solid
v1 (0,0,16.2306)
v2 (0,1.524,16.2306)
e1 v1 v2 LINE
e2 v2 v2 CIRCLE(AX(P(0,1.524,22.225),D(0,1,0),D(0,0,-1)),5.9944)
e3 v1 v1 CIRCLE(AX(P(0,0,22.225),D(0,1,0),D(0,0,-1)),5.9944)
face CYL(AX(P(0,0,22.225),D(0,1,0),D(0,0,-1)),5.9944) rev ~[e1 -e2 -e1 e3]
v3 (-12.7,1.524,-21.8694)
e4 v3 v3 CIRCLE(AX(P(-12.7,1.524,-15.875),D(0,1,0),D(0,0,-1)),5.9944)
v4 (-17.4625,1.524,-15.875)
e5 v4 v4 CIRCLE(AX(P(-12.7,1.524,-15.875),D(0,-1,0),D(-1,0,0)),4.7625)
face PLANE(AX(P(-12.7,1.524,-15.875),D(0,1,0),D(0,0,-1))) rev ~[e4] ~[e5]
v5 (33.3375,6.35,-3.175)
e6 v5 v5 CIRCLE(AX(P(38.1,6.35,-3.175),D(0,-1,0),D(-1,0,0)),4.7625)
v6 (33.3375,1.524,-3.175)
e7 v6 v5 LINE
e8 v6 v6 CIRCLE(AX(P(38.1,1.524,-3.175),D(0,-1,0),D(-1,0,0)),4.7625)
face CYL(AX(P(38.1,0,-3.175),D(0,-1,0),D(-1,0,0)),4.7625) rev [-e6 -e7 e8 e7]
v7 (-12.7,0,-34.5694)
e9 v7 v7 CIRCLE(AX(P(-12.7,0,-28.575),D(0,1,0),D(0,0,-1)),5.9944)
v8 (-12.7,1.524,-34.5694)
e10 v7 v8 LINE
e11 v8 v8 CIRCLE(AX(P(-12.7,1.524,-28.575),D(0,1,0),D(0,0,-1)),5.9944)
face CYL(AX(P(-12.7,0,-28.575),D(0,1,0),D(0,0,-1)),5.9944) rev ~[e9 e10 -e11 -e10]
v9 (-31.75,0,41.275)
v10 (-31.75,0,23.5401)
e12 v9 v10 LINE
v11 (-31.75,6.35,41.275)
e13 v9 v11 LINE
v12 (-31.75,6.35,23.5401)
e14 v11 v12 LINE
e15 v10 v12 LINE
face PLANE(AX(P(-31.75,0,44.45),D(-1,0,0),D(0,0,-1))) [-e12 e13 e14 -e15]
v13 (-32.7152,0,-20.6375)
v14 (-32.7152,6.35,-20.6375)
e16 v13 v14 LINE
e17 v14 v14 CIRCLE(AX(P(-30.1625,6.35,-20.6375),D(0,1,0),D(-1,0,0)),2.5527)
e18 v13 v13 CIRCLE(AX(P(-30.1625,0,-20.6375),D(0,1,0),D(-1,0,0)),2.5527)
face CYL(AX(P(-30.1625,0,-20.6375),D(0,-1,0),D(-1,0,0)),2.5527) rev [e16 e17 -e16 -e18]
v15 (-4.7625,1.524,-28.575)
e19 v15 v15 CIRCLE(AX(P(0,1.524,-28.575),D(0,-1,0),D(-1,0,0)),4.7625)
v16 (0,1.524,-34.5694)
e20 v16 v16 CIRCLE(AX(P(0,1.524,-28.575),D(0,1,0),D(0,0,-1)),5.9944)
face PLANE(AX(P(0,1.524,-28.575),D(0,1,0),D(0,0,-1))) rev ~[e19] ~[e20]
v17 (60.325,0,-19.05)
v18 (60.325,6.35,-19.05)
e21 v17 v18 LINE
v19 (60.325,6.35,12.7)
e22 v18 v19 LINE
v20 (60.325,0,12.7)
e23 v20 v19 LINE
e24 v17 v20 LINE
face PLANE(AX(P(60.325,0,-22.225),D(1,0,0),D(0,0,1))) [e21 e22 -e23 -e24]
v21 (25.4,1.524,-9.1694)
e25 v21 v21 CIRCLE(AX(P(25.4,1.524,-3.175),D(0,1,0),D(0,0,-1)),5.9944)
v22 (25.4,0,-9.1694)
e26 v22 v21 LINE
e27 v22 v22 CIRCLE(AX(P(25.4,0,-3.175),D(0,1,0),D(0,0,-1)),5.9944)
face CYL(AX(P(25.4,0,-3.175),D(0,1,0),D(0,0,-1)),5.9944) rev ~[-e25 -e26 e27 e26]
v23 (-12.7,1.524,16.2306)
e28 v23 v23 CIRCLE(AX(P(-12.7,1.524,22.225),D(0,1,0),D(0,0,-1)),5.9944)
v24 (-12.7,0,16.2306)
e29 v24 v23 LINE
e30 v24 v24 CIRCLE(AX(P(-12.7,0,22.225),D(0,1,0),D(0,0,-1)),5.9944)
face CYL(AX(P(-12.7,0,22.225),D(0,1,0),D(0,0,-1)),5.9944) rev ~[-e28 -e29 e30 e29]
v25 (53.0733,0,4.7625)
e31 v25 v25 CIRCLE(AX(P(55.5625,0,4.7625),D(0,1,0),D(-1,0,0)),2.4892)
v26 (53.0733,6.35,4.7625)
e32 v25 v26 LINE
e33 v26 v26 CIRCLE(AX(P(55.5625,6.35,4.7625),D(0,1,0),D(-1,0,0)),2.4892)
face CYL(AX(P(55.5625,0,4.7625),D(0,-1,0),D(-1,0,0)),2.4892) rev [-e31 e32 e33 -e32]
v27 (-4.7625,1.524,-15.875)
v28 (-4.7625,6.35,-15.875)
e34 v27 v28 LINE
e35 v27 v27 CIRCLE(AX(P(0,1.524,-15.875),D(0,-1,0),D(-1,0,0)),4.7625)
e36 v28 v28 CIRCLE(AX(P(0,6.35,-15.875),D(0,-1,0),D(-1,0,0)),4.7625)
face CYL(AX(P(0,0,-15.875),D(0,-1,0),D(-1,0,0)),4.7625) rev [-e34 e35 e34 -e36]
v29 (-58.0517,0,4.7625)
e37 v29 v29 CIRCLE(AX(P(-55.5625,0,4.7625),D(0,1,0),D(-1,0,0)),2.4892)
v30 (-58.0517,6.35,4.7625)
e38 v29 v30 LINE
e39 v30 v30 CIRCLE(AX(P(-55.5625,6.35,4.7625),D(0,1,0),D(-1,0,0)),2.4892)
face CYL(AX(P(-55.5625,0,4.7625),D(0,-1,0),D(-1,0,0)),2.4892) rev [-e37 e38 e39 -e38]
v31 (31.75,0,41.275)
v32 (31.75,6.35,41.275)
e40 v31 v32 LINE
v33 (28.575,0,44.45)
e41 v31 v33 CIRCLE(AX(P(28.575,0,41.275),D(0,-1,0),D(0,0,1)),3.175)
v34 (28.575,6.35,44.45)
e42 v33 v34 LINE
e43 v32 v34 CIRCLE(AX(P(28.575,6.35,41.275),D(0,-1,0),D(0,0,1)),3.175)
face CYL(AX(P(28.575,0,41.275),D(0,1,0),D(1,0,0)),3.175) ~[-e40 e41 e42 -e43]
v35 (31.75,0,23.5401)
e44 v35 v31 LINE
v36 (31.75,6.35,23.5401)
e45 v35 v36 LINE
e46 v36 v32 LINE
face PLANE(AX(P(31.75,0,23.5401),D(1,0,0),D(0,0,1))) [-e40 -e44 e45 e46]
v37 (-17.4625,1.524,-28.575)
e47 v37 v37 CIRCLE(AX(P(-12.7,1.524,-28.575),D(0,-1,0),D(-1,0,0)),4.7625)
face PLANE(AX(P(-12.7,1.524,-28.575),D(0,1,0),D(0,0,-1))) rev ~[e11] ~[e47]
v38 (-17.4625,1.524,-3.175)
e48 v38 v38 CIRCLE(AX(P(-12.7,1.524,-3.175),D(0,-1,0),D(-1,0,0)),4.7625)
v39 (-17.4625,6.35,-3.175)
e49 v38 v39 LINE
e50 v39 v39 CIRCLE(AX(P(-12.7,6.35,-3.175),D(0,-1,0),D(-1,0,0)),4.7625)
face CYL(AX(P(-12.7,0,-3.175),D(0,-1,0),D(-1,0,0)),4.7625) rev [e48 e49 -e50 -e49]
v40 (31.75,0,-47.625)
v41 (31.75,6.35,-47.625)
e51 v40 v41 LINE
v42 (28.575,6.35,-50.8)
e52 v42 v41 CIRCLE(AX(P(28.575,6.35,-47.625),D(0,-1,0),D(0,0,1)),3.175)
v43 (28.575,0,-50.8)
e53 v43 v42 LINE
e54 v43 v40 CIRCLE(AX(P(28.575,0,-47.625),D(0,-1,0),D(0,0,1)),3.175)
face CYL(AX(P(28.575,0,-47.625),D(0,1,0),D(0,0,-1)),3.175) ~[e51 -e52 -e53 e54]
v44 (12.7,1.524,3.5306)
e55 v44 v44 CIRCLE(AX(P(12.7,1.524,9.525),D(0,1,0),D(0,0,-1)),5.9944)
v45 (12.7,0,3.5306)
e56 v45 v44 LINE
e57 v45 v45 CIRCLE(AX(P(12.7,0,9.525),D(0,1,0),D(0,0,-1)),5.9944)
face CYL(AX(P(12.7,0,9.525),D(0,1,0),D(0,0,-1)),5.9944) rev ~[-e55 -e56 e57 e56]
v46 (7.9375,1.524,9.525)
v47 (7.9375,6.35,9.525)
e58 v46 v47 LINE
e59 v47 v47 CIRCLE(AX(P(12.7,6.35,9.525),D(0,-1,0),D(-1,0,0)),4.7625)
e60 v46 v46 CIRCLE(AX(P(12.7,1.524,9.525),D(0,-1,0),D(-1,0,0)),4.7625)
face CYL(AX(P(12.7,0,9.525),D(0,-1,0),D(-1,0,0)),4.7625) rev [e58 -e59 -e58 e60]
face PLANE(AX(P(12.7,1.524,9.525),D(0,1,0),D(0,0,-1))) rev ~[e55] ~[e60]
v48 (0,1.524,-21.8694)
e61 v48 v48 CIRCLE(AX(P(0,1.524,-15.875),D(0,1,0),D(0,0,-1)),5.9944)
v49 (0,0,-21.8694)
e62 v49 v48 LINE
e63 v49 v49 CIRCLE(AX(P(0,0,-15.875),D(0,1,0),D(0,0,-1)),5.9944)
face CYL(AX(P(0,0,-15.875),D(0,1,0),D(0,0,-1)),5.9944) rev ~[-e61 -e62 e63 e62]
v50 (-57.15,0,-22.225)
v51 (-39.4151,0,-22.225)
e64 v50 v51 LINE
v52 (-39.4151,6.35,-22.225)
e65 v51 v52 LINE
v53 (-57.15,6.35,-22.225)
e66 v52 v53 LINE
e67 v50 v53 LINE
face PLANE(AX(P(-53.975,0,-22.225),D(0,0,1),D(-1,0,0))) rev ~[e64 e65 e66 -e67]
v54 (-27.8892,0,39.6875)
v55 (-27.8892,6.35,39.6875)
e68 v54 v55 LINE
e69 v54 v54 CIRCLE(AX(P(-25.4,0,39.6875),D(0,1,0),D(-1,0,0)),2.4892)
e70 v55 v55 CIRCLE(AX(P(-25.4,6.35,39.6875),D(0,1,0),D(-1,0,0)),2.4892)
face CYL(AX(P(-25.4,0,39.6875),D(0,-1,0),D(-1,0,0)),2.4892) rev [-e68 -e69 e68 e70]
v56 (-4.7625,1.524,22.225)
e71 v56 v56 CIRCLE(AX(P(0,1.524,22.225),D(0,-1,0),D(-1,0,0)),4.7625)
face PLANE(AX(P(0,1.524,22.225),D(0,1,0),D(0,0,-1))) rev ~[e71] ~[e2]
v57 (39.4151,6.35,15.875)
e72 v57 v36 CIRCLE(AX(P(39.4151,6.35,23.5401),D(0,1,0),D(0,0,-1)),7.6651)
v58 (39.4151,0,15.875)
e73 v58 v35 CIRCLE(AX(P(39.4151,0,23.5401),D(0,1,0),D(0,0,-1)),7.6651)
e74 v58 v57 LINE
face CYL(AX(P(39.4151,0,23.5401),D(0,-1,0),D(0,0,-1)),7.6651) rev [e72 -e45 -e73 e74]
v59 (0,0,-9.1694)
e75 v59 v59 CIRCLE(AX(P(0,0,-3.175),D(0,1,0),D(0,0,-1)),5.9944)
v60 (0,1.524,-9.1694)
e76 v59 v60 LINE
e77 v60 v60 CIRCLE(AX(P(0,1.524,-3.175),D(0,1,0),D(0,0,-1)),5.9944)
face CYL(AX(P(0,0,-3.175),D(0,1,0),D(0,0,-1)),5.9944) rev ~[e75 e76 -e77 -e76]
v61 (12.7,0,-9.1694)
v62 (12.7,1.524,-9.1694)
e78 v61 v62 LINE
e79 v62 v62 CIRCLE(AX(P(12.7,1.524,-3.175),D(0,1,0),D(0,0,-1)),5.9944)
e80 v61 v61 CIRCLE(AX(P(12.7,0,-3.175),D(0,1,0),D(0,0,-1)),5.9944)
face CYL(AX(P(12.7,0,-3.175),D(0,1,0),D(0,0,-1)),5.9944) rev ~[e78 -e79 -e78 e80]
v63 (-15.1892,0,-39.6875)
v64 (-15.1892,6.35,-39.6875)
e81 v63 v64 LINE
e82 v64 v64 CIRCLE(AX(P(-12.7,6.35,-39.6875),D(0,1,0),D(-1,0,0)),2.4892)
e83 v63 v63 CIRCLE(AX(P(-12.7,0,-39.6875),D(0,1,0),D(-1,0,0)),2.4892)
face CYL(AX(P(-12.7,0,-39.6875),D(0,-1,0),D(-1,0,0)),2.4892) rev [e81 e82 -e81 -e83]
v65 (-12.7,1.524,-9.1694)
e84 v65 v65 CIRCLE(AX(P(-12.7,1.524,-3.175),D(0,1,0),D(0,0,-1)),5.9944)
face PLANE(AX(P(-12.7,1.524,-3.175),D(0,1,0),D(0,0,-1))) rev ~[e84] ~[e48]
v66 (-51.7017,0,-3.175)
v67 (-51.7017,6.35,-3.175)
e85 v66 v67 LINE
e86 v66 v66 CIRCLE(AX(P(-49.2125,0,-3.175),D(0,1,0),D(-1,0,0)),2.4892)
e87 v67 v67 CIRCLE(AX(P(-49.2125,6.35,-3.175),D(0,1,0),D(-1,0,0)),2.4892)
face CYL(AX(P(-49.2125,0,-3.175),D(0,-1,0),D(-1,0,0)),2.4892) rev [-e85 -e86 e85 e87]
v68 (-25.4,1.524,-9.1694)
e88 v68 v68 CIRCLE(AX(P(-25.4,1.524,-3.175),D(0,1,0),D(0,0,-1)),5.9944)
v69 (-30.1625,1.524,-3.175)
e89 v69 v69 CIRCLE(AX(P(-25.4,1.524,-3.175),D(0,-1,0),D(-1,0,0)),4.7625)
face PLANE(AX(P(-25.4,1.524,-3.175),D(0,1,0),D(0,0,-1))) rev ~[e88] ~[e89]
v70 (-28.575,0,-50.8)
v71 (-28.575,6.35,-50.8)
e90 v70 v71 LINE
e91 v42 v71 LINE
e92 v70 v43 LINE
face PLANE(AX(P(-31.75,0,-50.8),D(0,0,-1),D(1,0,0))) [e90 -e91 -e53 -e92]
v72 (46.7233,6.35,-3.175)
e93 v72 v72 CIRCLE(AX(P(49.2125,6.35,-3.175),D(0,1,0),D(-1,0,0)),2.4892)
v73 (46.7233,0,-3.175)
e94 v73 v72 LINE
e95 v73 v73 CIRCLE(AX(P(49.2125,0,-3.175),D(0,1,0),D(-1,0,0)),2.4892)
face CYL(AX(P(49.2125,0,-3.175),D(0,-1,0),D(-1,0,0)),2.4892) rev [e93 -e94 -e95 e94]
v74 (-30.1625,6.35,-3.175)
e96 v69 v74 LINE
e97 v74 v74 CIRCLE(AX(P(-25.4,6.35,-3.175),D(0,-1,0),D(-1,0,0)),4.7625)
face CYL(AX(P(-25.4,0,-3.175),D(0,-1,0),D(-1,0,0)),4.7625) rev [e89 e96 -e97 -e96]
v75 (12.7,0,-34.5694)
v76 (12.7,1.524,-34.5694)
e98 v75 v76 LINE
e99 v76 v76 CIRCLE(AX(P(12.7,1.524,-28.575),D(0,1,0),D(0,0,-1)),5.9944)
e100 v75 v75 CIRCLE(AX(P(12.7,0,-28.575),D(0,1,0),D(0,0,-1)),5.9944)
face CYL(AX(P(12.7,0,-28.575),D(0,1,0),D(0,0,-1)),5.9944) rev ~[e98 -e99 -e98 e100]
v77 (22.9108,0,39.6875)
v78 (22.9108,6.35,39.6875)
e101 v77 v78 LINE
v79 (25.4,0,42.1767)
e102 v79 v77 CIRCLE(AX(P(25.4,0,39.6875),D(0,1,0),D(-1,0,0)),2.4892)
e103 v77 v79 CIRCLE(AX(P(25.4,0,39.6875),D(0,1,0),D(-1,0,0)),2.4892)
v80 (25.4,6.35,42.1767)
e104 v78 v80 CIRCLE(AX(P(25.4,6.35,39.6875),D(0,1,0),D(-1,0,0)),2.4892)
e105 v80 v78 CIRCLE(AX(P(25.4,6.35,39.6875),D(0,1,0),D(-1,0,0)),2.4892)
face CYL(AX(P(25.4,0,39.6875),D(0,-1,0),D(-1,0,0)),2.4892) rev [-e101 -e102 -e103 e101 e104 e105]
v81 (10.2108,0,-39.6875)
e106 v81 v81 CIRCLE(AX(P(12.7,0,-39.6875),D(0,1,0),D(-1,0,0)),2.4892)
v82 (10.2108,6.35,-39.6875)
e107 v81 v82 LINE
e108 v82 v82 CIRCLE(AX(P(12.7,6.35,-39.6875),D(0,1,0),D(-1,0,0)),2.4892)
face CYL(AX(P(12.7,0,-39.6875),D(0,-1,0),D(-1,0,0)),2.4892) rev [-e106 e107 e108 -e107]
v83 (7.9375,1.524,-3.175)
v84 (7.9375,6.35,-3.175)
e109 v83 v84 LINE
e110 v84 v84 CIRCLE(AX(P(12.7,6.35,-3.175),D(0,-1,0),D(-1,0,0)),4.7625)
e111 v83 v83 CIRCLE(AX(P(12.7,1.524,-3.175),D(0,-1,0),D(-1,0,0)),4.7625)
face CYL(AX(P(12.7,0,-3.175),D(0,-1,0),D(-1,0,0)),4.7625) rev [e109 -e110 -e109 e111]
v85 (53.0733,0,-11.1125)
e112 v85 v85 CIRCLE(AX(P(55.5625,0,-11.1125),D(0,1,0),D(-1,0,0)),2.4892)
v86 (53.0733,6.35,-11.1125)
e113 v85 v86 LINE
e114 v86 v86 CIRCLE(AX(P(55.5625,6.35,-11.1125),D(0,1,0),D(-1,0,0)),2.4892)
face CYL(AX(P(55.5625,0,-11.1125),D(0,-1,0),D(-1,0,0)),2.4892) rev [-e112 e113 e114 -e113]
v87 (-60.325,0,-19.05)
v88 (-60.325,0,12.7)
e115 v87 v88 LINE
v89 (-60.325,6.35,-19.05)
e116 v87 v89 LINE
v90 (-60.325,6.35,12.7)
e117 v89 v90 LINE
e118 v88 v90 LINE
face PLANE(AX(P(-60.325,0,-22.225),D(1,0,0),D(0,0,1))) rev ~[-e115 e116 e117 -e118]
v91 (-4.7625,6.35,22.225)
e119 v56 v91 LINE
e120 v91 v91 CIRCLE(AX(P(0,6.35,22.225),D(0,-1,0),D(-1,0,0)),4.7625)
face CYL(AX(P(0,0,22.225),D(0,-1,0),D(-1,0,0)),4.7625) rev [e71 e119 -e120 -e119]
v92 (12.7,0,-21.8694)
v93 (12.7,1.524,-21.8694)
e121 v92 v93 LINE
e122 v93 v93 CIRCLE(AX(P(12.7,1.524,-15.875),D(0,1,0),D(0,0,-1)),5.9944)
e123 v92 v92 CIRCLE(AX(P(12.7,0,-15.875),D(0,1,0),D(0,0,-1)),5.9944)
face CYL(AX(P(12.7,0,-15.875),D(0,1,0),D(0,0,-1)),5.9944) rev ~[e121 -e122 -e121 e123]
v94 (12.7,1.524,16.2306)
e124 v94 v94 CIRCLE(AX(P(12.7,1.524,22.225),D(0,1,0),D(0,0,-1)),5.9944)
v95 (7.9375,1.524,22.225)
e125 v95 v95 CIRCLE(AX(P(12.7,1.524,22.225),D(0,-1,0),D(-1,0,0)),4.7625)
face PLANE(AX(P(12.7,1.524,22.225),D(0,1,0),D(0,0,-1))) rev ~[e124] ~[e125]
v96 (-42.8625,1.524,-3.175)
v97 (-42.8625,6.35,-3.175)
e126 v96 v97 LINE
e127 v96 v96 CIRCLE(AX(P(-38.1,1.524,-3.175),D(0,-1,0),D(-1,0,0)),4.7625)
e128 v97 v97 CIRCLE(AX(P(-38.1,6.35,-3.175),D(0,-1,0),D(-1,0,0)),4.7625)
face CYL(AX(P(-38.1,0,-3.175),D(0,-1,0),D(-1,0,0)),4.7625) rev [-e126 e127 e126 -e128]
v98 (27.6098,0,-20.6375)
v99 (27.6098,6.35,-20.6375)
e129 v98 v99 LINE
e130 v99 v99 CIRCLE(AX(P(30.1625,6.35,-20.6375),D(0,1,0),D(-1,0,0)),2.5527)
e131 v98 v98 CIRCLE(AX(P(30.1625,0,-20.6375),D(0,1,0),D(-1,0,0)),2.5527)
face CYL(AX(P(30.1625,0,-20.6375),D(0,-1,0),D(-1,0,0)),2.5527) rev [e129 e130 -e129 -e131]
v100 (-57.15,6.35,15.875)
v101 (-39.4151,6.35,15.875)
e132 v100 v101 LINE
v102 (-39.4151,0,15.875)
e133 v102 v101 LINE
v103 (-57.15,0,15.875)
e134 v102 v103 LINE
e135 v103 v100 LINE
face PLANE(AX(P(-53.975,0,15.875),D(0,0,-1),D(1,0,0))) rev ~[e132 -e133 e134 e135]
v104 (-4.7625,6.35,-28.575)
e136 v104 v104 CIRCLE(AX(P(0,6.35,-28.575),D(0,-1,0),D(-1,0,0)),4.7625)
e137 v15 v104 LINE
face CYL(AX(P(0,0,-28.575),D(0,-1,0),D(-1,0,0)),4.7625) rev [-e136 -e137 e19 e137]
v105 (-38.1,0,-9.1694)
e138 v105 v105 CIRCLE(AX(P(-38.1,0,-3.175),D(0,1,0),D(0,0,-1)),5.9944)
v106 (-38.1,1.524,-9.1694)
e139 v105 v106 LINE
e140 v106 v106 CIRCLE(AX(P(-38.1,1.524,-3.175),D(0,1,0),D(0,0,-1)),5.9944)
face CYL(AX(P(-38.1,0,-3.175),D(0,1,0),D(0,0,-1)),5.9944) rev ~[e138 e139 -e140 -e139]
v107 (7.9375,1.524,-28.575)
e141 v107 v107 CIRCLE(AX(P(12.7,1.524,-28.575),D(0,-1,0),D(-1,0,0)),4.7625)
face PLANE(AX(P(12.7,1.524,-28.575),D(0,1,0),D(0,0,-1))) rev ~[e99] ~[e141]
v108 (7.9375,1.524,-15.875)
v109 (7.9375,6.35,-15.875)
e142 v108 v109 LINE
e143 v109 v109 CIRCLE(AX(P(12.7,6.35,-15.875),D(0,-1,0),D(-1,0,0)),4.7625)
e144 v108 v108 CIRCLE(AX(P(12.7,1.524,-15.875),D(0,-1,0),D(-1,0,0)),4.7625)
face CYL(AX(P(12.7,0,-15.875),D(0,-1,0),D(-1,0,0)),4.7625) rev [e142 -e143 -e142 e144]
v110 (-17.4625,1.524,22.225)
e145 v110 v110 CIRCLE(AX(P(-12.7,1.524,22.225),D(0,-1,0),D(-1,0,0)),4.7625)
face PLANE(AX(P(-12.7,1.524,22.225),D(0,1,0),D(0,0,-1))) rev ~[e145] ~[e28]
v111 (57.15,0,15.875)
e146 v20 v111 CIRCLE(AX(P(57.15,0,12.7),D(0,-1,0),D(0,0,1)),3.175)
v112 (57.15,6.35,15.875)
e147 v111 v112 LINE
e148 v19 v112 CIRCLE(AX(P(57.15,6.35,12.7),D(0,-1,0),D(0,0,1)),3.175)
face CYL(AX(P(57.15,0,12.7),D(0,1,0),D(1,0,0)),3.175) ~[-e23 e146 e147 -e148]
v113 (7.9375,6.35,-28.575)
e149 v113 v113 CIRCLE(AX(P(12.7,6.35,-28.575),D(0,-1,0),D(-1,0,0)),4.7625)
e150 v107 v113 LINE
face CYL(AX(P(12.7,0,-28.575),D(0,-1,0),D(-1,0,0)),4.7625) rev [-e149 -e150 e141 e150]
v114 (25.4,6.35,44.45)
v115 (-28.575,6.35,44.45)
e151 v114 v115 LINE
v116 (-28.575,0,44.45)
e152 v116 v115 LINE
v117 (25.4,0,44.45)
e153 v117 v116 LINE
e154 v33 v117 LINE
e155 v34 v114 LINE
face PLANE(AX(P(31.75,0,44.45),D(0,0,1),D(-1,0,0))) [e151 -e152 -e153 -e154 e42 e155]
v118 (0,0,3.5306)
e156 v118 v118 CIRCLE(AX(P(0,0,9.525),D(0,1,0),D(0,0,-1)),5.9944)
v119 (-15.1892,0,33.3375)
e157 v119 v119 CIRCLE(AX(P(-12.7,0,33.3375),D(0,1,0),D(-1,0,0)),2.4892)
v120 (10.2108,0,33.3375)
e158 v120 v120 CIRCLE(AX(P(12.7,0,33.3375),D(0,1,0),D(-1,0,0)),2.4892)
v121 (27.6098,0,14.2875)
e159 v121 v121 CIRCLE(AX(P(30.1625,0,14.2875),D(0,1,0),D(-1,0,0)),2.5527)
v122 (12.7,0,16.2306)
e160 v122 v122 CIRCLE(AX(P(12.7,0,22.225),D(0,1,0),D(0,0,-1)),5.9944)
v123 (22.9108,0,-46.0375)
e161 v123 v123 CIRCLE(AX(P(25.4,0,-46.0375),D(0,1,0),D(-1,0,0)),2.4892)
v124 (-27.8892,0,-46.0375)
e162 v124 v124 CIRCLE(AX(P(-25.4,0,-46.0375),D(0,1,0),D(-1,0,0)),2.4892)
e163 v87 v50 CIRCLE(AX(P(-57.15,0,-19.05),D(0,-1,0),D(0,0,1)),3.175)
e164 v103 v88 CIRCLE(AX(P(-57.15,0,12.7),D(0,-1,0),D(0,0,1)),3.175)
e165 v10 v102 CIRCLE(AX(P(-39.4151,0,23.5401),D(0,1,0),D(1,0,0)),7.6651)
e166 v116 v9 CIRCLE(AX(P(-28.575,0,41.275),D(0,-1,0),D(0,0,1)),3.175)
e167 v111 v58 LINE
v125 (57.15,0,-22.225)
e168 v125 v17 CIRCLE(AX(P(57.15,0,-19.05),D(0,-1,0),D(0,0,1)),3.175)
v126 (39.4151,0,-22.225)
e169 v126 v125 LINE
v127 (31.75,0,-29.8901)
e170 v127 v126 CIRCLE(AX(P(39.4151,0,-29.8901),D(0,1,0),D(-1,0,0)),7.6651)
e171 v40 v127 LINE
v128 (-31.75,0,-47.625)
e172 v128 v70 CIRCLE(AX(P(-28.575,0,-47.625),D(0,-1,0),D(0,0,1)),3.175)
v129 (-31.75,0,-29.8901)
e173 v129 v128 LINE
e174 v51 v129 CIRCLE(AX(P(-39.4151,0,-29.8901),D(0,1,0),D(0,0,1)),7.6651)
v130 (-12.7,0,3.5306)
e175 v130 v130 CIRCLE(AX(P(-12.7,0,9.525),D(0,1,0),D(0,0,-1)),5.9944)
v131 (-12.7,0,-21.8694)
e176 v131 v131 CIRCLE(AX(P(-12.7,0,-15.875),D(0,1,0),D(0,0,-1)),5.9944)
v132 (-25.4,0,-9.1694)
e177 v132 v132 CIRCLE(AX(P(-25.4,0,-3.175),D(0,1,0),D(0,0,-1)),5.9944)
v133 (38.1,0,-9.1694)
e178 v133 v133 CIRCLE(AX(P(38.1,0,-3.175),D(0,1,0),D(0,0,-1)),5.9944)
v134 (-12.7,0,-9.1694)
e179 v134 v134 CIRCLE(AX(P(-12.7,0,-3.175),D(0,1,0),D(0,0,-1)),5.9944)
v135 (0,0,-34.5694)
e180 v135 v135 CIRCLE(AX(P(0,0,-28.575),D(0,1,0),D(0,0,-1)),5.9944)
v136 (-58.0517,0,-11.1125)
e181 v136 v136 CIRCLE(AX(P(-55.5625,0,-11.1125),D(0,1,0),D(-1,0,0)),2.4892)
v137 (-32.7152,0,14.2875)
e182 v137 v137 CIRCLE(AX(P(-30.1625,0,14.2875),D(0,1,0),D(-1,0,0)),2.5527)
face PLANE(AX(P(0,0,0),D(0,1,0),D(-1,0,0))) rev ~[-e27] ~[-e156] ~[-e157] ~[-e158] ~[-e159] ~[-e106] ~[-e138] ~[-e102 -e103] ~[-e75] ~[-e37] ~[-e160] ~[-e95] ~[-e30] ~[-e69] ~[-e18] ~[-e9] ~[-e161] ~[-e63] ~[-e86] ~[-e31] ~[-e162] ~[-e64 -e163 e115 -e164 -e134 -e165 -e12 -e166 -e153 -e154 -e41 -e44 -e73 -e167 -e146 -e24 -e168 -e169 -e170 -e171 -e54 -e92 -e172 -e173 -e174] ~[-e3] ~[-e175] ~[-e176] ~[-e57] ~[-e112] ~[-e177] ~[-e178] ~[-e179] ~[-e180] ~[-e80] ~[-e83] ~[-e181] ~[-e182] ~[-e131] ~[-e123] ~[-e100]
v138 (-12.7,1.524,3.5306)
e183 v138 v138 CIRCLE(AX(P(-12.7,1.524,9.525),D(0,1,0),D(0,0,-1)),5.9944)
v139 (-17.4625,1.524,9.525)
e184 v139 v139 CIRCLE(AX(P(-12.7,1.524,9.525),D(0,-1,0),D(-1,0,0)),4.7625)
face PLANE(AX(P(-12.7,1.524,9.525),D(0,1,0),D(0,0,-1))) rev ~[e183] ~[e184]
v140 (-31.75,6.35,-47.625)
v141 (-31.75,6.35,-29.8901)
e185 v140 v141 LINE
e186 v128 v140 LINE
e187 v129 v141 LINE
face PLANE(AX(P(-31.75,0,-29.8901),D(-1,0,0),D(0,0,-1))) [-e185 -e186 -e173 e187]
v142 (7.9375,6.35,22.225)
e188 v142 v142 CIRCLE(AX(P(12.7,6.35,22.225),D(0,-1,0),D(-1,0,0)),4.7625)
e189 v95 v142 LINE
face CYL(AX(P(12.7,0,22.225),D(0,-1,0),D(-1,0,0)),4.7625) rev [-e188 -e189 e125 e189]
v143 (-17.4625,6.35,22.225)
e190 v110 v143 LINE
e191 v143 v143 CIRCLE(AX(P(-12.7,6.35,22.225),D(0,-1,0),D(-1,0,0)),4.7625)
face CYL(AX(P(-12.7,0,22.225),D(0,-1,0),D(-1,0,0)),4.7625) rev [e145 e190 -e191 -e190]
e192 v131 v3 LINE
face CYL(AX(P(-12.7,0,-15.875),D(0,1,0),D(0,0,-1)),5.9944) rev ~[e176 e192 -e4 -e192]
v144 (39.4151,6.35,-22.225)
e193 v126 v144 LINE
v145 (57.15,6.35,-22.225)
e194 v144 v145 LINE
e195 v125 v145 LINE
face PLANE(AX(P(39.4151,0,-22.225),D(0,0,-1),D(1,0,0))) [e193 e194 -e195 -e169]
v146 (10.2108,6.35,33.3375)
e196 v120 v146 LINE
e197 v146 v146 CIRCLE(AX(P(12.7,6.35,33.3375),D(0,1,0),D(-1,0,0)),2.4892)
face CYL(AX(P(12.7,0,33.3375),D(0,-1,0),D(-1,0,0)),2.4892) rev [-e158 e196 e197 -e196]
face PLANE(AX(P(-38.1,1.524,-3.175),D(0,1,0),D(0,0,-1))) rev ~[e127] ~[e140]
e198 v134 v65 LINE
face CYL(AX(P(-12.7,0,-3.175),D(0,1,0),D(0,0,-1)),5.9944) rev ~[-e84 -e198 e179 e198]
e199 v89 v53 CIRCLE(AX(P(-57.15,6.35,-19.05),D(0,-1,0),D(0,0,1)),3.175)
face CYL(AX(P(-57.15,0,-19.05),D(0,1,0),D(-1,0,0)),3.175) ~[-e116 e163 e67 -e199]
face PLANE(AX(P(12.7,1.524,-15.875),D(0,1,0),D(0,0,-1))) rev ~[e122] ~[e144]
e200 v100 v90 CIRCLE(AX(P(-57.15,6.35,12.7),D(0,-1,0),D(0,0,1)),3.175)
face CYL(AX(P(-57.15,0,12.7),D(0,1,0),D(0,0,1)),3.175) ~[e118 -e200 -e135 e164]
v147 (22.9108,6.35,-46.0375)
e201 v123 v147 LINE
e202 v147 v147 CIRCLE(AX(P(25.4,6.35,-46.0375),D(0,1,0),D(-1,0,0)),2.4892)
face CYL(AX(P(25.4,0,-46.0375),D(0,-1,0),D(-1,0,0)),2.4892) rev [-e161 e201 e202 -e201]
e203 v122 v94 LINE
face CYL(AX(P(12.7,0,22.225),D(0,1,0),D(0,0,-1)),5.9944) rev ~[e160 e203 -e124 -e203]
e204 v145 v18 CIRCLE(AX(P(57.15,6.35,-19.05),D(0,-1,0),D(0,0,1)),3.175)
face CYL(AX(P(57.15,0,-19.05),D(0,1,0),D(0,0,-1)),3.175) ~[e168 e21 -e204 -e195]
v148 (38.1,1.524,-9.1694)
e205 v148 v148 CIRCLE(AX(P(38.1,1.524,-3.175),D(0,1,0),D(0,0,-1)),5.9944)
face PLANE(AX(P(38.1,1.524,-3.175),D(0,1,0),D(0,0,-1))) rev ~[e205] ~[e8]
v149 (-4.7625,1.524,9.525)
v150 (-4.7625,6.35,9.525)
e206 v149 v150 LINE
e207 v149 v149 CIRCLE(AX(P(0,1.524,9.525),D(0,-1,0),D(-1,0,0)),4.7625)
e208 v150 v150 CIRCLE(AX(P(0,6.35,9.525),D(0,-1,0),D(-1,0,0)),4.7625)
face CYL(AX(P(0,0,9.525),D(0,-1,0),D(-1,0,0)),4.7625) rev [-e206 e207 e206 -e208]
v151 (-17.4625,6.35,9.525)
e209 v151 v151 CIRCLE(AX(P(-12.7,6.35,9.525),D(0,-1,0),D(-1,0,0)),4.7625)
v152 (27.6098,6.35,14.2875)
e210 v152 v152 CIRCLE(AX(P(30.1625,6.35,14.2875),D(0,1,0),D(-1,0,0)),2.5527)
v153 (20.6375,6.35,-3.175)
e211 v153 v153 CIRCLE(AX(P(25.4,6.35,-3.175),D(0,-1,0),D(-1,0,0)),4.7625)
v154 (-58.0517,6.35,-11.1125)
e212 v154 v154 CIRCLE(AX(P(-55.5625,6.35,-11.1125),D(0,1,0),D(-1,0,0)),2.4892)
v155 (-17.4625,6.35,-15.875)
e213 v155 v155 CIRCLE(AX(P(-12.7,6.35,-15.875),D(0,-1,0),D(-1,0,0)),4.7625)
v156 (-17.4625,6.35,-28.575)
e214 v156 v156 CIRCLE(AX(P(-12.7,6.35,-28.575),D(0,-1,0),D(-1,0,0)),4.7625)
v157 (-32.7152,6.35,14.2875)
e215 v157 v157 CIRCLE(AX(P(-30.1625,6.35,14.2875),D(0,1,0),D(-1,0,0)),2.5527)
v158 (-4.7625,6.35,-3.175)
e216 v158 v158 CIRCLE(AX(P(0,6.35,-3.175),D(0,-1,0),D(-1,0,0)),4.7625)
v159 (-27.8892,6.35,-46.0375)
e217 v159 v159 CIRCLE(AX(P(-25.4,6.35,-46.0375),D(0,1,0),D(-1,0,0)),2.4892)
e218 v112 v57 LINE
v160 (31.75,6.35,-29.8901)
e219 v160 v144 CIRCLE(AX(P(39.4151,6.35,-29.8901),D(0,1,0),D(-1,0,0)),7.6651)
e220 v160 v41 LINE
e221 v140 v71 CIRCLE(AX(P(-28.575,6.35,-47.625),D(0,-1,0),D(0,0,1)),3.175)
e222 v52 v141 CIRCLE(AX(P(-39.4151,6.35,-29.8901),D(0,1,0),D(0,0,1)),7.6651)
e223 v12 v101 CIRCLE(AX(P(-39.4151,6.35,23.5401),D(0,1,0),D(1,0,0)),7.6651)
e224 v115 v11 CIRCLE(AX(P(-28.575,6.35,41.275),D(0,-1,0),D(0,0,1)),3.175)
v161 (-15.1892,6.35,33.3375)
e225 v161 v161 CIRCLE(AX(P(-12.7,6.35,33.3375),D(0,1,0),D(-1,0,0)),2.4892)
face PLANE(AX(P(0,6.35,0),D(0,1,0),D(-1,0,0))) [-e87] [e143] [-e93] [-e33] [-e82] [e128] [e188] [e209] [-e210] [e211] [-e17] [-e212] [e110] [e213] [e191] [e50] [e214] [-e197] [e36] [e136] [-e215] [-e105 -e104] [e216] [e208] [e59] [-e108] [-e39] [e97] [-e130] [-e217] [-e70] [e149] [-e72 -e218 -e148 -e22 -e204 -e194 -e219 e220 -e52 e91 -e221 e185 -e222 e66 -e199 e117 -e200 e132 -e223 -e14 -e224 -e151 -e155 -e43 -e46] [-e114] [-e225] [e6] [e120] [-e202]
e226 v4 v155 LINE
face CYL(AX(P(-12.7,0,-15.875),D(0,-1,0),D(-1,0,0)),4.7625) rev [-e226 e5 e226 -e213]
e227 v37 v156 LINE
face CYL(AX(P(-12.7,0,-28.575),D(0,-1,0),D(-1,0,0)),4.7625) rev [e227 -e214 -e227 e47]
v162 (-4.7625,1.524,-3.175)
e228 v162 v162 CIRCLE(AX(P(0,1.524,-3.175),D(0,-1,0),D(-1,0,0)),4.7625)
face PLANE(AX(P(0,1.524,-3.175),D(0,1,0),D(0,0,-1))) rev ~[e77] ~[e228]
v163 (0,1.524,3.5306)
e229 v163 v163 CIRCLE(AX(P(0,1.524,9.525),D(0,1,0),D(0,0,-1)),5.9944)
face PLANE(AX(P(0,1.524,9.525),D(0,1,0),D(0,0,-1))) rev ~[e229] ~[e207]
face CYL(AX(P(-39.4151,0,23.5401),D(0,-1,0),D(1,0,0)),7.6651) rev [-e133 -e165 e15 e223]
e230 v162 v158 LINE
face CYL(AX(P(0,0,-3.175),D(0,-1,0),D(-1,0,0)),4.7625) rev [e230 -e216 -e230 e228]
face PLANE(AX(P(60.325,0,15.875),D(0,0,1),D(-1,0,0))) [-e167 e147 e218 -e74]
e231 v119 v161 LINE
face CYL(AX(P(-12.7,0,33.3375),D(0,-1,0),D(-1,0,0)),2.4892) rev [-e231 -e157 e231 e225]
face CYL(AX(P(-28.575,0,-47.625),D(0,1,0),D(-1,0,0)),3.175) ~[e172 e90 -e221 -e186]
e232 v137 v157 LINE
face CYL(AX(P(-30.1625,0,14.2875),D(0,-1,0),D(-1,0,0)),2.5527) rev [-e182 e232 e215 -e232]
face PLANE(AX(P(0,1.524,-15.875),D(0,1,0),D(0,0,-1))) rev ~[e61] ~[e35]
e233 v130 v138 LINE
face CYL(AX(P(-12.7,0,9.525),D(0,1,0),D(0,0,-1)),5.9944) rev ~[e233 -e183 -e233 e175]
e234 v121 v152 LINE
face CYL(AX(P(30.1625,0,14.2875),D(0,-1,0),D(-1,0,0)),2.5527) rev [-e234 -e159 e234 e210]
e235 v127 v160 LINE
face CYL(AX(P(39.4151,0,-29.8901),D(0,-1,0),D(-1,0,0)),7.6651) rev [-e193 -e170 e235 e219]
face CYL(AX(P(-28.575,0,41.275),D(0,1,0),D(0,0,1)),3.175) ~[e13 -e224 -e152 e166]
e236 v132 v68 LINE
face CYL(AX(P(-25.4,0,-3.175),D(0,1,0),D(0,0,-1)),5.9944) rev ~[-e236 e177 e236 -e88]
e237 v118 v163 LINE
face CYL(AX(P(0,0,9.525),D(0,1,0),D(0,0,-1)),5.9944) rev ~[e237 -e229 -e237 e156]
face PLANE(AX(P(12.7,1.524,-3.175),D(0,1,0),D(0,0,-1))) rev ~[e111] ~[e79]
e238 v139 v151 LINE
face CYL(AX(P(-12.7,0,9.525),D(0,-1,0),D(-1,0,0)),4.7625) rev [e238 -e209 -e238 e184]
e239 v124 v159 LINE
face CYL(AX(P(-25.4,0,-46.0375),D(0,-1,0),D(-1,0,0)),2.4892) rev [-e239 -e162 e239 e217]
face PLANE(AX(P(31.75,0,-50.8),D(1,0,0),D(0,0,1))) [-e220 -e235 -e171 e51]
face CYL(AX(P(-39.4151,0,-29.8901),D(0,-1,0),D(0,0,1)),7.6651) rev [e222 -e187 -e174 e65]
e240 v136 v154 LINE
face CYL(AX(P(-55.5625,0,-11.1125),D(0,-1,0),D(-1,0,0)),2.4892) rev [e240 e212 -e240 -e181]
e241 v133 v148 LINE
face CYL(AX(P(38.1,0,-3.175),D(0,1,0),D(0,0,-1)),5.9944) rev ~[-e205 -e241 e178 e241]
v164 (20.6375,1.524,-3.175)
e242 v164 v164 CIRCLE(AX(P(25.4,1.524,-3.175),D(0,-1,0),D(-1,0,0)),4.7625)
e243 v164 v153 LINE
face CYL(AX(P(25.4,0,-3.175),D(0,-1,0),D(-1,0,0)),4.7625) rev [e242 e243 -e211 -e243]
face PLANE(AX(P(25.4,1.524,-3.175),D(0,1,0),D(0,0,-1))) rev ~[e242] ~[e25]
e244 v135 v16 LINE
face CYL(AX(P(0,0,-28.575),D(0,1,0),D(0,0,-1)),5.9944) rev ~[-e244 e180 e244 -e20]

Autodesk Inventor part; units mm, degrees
ref_plane "YZ Plane" through (0, 0, 0) normal (1, 0, 0) x (0, 1, 0)
ref_plane "XZ Plane" through (0, 0, 0) normal (0, 1, 0) x (-1, 0, 0)
ref_plane "XY Plane" through (0, 0, 0) normal (0, 0, 1) x (1, 0, 0)
sketch "Sketch1" plane through (0, 0, 0) normal (0, 1, 0) x (-1, 0, 0)
  line L0 (-25.4, -38.1) -> (25.4, -38.1) construction
  line L1 (25.4, -38.1) -> (25.4, -29.8901)
  line L2 (25.4, 38.1) -> (-25.4, 38.1) construction
  line L3 (-25.4, -29.8901) -> (-25.4, -38.1)
  line L4 (-25.4, -38.1) -> (25.4, 38.1) construction
  line L5 (25.4, -38.1) -> (-25.4, 38.1) construction
  circle A0 centre (12.7, -28.575) radius 4.7625
  circle A1 centre (0, -28.575) radius 4.7625
  circle A2 centre (-12.7, -28.575) radius 4.7625
  circle A3 centre (12.7, -15.875) radius 4.7625
  circle A4 centre (0, -15.875) radius 4.7625
  circle A5 centre (-12.7, -15.875) radius 4.7625
  circle A6 centre (12.7, -3.175) radius 4.7625
  circle A7 centre (0, -3.175) radius 4.7625
  circle A8 centre (-12.7, -3.175) radius 4.7625
  circle A9 centre (12.7, 9.525) radius 4.7625
  circle A10 centre (0, 9.525) radius 4.7625
  circle A11 centre (-12.7, 9.525) radius 4.7625
  circle A12 centre (12.7, 22.225) radius 4.7625
  circle A13 centre (0, 22.225) radius 4.7625
  circle A14 centre (-12.7, 22.225) radius 4.7625
  line L6 (47.625, -15.875) -> (47.625, 9.525) construction
  circle A15 centre (25.4, -3.175) radius 4.7625
  circle A16 centre (38.1, -3.175) radius 4.7625
  line L7 (0, -38.1) -> (0, 38.1) construction
  circle A17 centre (-25.4, -3.175) radius 4.7625
  circle A18 centre (-38.1, -3.175) radius 4.7625
  arc A19 (39.4151, -15.875) -> (25.4, -29.8901) centre (39.4151, -29.8901) ccw construction
  line L8 (25.4, 38.1) -> (25.4, 23.5401) construction
  arc A20 (25.4, 23.5401) -> (39.4151, 9.525) centre (39.4151, 23.5401) ccw construction
  line L9 (-60.325, -15.875) -> (-39.4151, -15.875) construction
  line L10 (-60.325, 9.525) -> (-39.4151, 9.525) construction
  arc A21 (-25.4, -29.8901) -> (-39.4151, -15.875) centre (-39.4151, -29.8901) ccw construction
  line L11 (-25.4, 23.5401) -> (-25.4, 38.1) construction
  arc A22 (-39.4151, 9.525) -> (-25.4, 23.5401) centre (-39.4151, 23.5401) ccw construction
  line L12 (53.975, -15.875) -> (28.575, -15.875) construction
  line L13 (25.4, -19.05) -> (25.4, -44.45) construction
  line L14 (-25.4, -44.45) -> (-25.4, -19.05) construction
  line L15 (-28.575, -15.875) -> (-39.4151, -15.875) construction
  line L16 (-25.4, 23.5401) -> (-25.4, 12.7) construction
  line L17 (-39.4151, 9.525) -> (-28.575, 9.525) construction
  line L18 (25.4, 23.5401) -> (25.4, 12.7) construction
  line L19 (28.575, 9.525) -> (53.975, 9.525) construction
  arc A23 (25.4, 12.7) -> (28.575, 9.525) centre (28.575, 12.7) ccw construction
  arc A24 (28.575, -15.875) -> (25.4, -19.05) centre (28.575, -19.05) ccw construction
  arc A25 (-25.4, -19.05) -> (-28.575, -15.875) centre (-28.575, -19.05) ccw construction
  arc A26 (-28.575, 9.525) -> (-25.4, 12.7) centre (-28.575, 12.7) ccw construction
  line L20 (39.4151, -22.225) -> (53.975, -22.225)
  line L21 (53.975, -22.225) -> (53.975, 15.875) construction
  line L22 (53.975, 15.875) -> (39.4151, 15.875)
  arc A27 (39.4151, -22.225) -> (31.75, -29.8901) centre (39.4151, -29.8901) ccw
  line L23 (31.75, -29.8901) -> (31.75, -44.45)
  line L24 (31.75, -44.45) -> (-31.75, -44.45) construction
  line L25 (-31.75, -44.45) -> (-31.75, -29.8901)
  arc A28 (-31.75, -29.8901) -> (-39.4151, -22.225) centre (-39.4151, -29.8901) ccw
  line L26 (-39.4151, -22.225) -> (-60.325, -22.225)
  line L27 (-60.325, -22.225) -> (-60.325, 15.875)
  line L28 (-60.325, 15.875) -> (-39.4151, 15.875)
  arc A29 (-39.4151, 15.875) -> (-31.75, 23.5401) centre (-39.4151, 23.5401) ccw
  line L29 (-31.75, 23.5401) -> (-31.75, 44.45)
  line L30 (-31.75, 44.45) -> (31.75, 44.45)
  line L31 (31.75, 44.45) -> (31.75, 23.5401)
  arc A30 (31.75, 23.5401) -> (39.4151, 15.875) centre (39.4151, 23.5401) ccw
  line L32 (25.4, 38.1) -> (25.4, 44.45) construction
  line L33 (-25.4, 38.1) -> (-25.4, 44.45)
  circle A31 centre (-55.5625, -3.175) radius 4.7625 construction
  circle A32 centre (49.2125, -3.175) radius 4.7625 construction
  circle A33 centre (0, -39.6875) radius 4.7625 construction
  circle A34 centre (0, 39.6875) radius 4.7625 construction
  line L34 (44.45, -17.4132) -> (44.45, -3.2681) construction
  line L35 (-50.8, -20.963) -> (-50.8, -1.2168) construction
  line L36 (-5.6388, -34.925) -> (9.5526, -34.925) construction
  line L37 (-7.9375, 34.925) -> (9.5526, 34.925) construction
  circle A35 centre (-55.5625, -3.175) radius 2.4892 construction
  circle A36 centre (0, -39.6875) radius 2.4892 construction
  circle A37 centre (49.2125, -3.175) radius 2.4892
  circle A38 centre (0, 39.6875) radius 2.4892 construction
  line L38 (33.9951, -24.4701) -> (26.3299, -16.8049) construction
  circle A39 centre (30.1625, -20.6375) radius 2.5527
  circle A40 centre (-30.1625, -20.6375) radius 2.5527
  line L39 (53.975, -3.175) -> (-60.325, -3.175) construction
  circle A41 centre (30.1625, 14.2875) radius 2.5527
  circle A42 centre (-30.1625, 14.2875) radius 2.5527
  circle A43 centre (25.4, 39.6875) radius 2.4892
  circle A44 centre (12.7, 39.6875) radius 2.4892 construction
  circle A45 centre (0, 39.6875) radius 2.4892 construction
  circle A46 centre (-12.7, 39.6875) radius 2.4892 construction
  circle A47 centre (-25.4, 39.6875) radius 2.4892
  circle A48 centre (12.7, -39.6875) radius 2.4892
  circle A49 centre (25.4, -39.6875) radius 2.4892 construction
  circle A50 centre (-12.7, -39.6875) radius 2.4892
  circle A51 centre (-25.4, -39.6875) radius 2.4892 construction
  circle A52 centre (49.2125, -11.1125) radius 2.4892 construction
  circle A53 centre (30.1625, -20.6375) radius 4.7625 construction
  circle A54 centre (49.2125, 4.7625) radius 2.4892 construction
  circle A55 centre (49.2125, 4.7625) radius 4.7625 construction
  circle A56 centre (49.2125, -11.1125) radius 4.7625 construction
  circle A57 centre (-55.5625, -11.1125) radius 2.4892
  circle A58 centre (-55.5625, -11.1125) radius 4.7625 construction
  circle A59 centre (-55.5625, 4.7625) radius 2.4892
  circle A60 centre (-55.5625, 4.7625) radius 4.7625 construction
  circle A61 centre (-12.7, 33.3375) radius 2.4892
  circle A62 centre (12.7, 33.3375) radius 2.4892
  circle A63 centre (-25.4, -46.0375) radius 2.4892
  circle A64 centre (25.4, -46.0375) radius 2.4892
  line L40 (31.75, -44.45) -> (31.75, -50.8)
  line L41 (31.75, -50.8) -> (-31.75, -50.8)
  line L42 (-31.75, -50.8) -> (-31.75, -44.45)
  line L43 (25.4, -44.45) -> (25.4, -50.8) construction
  line L44 (-25.4, -44.45) -> (-25.4, -50.8) construction
  circle A65 centre (-49.2125, -3.175) radius 2.4892
  circle A66 centre (55.5625, 4.7625) radius 2.4892
  circle A67 centre (55.5625, -11.1125) radius 2.4892
  line L45 (53.975, -22.225) -> (60.325, -22.225)
  line L46 (60.325, -22.225) -> (60.325, 15.875)
  line L47 (53.975, 15.875) -> (60.325, 15.875)
  line L48 (53.975, 9.525) -> (60.325, 9.525) construction
  line L49 (53.975, -15.875) -> (60.325, -15.875) construction
  circle A68 centre (25.4, -46.0375) radius 4.7625
  line L50 (25.4, -41.275) -> (19.287, -41.275)
  circle A69 centre (12.7, 33.3375) radius 4.7625
  line L51 (15.952, 28.575) -> (5.0903, 28.575) construction
  circle A70 centre (55.5625, 4.7625) radius 4.7625 construction
  line L52 (50.8, 8.631) -> (50.8, -0.466) construction
  point P0 (0, 0)
  point P1 (47.625, -3.175)
  point P2 (-25.4, 9.525)
  point P3 (47.625, -15.875)
  point P4 (47.625, 9.525)
  dimension "d15" = 25.4
  dimension "d0" = 50.8
  dimension "d3" = 9.525
  dimension "d6" = 12.7
  dimension "d9" = 12.7
  dimension "d18" = 12.7
  dimension "d29" = 3.175
  dimension "d30" = 6.35
  dimension "d31" = 7.6651
  dimension "d65" = 9.525
  dimension "d67" = 6.35
  dimension "d68" = 12.7
  dimension "d69" = 4.7625
  dimension "d70" = 25.4
  dimension "d71" = 6.35
  dimension "d74" = 12.7
  dimension "d89" = 4.9784
  dimension "d90" = 5.1054
  dimension "d100" = 4.9784
  dimension "d101" = 6.35
  dimension "d104" = 12.7
  dimension "d112" = 360
  dimension "d114" = 4.9784
  dimension "d126" = 9.525
  dimension "d127" = 9.525
  dimension "d128" = 9.525
  dimension "d129" = 4.9784
  dimension "d132" = 360
  dimension "d134" = 47.625
  dimension "d135" = 47.625
  dimension "d138" = 360
  dimension "d140" = 60.325
  dimension "d141" = 60.325
  dimension "d142" = 6.35
  dimension "d143" = 12.7
extrude "Extrusion1" add sketch "Sketch1" along normal blind 6.35 contours A68 | A27 L23 L40 L41 L42 L25 A28 L26 L27 L28 A29 L29 L30 L31 A30 L22 L47 L46 L45 L20 | A69
sketch "Sketch2" plane through (0, 0, 0) normal (0, -1, 0) x (1, 0, 0)
  circle A0 centre (38.1, -3.175) radius 4.7625 projected
  circle A1 centre (25.4, -3.175) radius 4.7625 projected
  circle A2 centre (12.7, -28.575) radius 4.7625 projected
  circle A3 centre (12.7, -15.875) radius 4.7625 projected
  circle A4 centre (12.7, -3.175) radius 4.7625 projected
  circle A5 centre (12.7, 9.525) radius 4.7625 projected
  circle A6 centre (12.7, 22.225) radius 4.7625 projected
  circle A7 centre (0, 22.225) radius 4.7625 projected
  circle A8 centre (-12.7, 22.225) radius 4.7625 projected
  circle A9 centre (-25.4, -3.175) radius 4.7625 projected
  circle A10 centre (-38.1, -3.175) radius 4.7625 projected
  circle A11 centre (-12.7, 9.525) radius 4.7625 projected
  circle A12 centre (0, 9.525) radius 4.7625 projected
  circle A13 centre (0, -28.575) radius 4.7625 projected
  circle A14 centre (-12.7, -28.575) radius 4.7625 projected
  circle A15 centre (0, -15.875) radius 4.7625 projected
  circle A16 centre (-12.7, -15.875) radius 4.7625 projected
  circle A17 centre (0, -3.175) radius 4.7625 projected
  circle A18 centre (-12.7, -3.175) radius 4.7625 projected
  point P0 (0, 0)
  point P1 (38.1, -3.175)
  point P2 (25.4, -3.175)
  point P3 (12.7, -28.575)
  point P4 (12.7, -15.875)
  point P5 (12.7, -3.175)
  point P6 (12.7, 9.525)
  point P7 (12.7, 22.225)
  point P8 (0, 22.225)
  point P9 (-12.7, 22.225)
  point P10 (-25.4, -3.175)
  point P11 (-38.1, -3.175)
  point P12 (-12.7, 9.525)
  point P13 (0, 9.525)
  point P14 (0, -28.575)
  point P15 (-12.7, -28.575)
  point P16 (0, -15.875)
  point P17 (-12.7, -15.875)
  point P18 (0, -3.175)
  point P19 (-12.7, -3.175)
hole "Hole1" at (38.1, 0, -3.175) at (25.4, 0, -3.175) at (12.7, 0, -28.575) at (12.7, 0, -15.875) at (12.7, 0, -3.175) at (12.7, 0, 9.525) at (12.7, 0, 22.225) at (0, 0, 22.225) at (-12.7, 0, 22.225) at (-25.4, 0, -3.175) at (-38.1, 0, -3.175) at (-12.7, 0, 9.525) at (0, 0, 9.525) at (0, 0, -28.575) at (-12.7, 0, -28.575) at (0, 0, -15.875) at (-12.7, 0, -15.875) at (0, 0, -3.175) at (-12.7, 0, -3.175) direction (0, 1, 0) diameter 9.525 depth 9.525 counterbore diameter 11.9888 counterbore depth 1.524
fillet "Fillet1" radius 3.175 8 edges at (-31.75, 3.175, 44.45) (60.325, 3.175, 15.875) (31.75, 3.175, 44.45) (60.325, 3.175, -22.225) (-31.75, 3.175, -50.8) (31.75, 3.175, -50.8) (-60.325, 3.175, 15.875) (-60.325, 3.175, -22.225)
equation "\"adder\" = d30"
properties part number "Drill Guide" material "Aluminum 6061"
